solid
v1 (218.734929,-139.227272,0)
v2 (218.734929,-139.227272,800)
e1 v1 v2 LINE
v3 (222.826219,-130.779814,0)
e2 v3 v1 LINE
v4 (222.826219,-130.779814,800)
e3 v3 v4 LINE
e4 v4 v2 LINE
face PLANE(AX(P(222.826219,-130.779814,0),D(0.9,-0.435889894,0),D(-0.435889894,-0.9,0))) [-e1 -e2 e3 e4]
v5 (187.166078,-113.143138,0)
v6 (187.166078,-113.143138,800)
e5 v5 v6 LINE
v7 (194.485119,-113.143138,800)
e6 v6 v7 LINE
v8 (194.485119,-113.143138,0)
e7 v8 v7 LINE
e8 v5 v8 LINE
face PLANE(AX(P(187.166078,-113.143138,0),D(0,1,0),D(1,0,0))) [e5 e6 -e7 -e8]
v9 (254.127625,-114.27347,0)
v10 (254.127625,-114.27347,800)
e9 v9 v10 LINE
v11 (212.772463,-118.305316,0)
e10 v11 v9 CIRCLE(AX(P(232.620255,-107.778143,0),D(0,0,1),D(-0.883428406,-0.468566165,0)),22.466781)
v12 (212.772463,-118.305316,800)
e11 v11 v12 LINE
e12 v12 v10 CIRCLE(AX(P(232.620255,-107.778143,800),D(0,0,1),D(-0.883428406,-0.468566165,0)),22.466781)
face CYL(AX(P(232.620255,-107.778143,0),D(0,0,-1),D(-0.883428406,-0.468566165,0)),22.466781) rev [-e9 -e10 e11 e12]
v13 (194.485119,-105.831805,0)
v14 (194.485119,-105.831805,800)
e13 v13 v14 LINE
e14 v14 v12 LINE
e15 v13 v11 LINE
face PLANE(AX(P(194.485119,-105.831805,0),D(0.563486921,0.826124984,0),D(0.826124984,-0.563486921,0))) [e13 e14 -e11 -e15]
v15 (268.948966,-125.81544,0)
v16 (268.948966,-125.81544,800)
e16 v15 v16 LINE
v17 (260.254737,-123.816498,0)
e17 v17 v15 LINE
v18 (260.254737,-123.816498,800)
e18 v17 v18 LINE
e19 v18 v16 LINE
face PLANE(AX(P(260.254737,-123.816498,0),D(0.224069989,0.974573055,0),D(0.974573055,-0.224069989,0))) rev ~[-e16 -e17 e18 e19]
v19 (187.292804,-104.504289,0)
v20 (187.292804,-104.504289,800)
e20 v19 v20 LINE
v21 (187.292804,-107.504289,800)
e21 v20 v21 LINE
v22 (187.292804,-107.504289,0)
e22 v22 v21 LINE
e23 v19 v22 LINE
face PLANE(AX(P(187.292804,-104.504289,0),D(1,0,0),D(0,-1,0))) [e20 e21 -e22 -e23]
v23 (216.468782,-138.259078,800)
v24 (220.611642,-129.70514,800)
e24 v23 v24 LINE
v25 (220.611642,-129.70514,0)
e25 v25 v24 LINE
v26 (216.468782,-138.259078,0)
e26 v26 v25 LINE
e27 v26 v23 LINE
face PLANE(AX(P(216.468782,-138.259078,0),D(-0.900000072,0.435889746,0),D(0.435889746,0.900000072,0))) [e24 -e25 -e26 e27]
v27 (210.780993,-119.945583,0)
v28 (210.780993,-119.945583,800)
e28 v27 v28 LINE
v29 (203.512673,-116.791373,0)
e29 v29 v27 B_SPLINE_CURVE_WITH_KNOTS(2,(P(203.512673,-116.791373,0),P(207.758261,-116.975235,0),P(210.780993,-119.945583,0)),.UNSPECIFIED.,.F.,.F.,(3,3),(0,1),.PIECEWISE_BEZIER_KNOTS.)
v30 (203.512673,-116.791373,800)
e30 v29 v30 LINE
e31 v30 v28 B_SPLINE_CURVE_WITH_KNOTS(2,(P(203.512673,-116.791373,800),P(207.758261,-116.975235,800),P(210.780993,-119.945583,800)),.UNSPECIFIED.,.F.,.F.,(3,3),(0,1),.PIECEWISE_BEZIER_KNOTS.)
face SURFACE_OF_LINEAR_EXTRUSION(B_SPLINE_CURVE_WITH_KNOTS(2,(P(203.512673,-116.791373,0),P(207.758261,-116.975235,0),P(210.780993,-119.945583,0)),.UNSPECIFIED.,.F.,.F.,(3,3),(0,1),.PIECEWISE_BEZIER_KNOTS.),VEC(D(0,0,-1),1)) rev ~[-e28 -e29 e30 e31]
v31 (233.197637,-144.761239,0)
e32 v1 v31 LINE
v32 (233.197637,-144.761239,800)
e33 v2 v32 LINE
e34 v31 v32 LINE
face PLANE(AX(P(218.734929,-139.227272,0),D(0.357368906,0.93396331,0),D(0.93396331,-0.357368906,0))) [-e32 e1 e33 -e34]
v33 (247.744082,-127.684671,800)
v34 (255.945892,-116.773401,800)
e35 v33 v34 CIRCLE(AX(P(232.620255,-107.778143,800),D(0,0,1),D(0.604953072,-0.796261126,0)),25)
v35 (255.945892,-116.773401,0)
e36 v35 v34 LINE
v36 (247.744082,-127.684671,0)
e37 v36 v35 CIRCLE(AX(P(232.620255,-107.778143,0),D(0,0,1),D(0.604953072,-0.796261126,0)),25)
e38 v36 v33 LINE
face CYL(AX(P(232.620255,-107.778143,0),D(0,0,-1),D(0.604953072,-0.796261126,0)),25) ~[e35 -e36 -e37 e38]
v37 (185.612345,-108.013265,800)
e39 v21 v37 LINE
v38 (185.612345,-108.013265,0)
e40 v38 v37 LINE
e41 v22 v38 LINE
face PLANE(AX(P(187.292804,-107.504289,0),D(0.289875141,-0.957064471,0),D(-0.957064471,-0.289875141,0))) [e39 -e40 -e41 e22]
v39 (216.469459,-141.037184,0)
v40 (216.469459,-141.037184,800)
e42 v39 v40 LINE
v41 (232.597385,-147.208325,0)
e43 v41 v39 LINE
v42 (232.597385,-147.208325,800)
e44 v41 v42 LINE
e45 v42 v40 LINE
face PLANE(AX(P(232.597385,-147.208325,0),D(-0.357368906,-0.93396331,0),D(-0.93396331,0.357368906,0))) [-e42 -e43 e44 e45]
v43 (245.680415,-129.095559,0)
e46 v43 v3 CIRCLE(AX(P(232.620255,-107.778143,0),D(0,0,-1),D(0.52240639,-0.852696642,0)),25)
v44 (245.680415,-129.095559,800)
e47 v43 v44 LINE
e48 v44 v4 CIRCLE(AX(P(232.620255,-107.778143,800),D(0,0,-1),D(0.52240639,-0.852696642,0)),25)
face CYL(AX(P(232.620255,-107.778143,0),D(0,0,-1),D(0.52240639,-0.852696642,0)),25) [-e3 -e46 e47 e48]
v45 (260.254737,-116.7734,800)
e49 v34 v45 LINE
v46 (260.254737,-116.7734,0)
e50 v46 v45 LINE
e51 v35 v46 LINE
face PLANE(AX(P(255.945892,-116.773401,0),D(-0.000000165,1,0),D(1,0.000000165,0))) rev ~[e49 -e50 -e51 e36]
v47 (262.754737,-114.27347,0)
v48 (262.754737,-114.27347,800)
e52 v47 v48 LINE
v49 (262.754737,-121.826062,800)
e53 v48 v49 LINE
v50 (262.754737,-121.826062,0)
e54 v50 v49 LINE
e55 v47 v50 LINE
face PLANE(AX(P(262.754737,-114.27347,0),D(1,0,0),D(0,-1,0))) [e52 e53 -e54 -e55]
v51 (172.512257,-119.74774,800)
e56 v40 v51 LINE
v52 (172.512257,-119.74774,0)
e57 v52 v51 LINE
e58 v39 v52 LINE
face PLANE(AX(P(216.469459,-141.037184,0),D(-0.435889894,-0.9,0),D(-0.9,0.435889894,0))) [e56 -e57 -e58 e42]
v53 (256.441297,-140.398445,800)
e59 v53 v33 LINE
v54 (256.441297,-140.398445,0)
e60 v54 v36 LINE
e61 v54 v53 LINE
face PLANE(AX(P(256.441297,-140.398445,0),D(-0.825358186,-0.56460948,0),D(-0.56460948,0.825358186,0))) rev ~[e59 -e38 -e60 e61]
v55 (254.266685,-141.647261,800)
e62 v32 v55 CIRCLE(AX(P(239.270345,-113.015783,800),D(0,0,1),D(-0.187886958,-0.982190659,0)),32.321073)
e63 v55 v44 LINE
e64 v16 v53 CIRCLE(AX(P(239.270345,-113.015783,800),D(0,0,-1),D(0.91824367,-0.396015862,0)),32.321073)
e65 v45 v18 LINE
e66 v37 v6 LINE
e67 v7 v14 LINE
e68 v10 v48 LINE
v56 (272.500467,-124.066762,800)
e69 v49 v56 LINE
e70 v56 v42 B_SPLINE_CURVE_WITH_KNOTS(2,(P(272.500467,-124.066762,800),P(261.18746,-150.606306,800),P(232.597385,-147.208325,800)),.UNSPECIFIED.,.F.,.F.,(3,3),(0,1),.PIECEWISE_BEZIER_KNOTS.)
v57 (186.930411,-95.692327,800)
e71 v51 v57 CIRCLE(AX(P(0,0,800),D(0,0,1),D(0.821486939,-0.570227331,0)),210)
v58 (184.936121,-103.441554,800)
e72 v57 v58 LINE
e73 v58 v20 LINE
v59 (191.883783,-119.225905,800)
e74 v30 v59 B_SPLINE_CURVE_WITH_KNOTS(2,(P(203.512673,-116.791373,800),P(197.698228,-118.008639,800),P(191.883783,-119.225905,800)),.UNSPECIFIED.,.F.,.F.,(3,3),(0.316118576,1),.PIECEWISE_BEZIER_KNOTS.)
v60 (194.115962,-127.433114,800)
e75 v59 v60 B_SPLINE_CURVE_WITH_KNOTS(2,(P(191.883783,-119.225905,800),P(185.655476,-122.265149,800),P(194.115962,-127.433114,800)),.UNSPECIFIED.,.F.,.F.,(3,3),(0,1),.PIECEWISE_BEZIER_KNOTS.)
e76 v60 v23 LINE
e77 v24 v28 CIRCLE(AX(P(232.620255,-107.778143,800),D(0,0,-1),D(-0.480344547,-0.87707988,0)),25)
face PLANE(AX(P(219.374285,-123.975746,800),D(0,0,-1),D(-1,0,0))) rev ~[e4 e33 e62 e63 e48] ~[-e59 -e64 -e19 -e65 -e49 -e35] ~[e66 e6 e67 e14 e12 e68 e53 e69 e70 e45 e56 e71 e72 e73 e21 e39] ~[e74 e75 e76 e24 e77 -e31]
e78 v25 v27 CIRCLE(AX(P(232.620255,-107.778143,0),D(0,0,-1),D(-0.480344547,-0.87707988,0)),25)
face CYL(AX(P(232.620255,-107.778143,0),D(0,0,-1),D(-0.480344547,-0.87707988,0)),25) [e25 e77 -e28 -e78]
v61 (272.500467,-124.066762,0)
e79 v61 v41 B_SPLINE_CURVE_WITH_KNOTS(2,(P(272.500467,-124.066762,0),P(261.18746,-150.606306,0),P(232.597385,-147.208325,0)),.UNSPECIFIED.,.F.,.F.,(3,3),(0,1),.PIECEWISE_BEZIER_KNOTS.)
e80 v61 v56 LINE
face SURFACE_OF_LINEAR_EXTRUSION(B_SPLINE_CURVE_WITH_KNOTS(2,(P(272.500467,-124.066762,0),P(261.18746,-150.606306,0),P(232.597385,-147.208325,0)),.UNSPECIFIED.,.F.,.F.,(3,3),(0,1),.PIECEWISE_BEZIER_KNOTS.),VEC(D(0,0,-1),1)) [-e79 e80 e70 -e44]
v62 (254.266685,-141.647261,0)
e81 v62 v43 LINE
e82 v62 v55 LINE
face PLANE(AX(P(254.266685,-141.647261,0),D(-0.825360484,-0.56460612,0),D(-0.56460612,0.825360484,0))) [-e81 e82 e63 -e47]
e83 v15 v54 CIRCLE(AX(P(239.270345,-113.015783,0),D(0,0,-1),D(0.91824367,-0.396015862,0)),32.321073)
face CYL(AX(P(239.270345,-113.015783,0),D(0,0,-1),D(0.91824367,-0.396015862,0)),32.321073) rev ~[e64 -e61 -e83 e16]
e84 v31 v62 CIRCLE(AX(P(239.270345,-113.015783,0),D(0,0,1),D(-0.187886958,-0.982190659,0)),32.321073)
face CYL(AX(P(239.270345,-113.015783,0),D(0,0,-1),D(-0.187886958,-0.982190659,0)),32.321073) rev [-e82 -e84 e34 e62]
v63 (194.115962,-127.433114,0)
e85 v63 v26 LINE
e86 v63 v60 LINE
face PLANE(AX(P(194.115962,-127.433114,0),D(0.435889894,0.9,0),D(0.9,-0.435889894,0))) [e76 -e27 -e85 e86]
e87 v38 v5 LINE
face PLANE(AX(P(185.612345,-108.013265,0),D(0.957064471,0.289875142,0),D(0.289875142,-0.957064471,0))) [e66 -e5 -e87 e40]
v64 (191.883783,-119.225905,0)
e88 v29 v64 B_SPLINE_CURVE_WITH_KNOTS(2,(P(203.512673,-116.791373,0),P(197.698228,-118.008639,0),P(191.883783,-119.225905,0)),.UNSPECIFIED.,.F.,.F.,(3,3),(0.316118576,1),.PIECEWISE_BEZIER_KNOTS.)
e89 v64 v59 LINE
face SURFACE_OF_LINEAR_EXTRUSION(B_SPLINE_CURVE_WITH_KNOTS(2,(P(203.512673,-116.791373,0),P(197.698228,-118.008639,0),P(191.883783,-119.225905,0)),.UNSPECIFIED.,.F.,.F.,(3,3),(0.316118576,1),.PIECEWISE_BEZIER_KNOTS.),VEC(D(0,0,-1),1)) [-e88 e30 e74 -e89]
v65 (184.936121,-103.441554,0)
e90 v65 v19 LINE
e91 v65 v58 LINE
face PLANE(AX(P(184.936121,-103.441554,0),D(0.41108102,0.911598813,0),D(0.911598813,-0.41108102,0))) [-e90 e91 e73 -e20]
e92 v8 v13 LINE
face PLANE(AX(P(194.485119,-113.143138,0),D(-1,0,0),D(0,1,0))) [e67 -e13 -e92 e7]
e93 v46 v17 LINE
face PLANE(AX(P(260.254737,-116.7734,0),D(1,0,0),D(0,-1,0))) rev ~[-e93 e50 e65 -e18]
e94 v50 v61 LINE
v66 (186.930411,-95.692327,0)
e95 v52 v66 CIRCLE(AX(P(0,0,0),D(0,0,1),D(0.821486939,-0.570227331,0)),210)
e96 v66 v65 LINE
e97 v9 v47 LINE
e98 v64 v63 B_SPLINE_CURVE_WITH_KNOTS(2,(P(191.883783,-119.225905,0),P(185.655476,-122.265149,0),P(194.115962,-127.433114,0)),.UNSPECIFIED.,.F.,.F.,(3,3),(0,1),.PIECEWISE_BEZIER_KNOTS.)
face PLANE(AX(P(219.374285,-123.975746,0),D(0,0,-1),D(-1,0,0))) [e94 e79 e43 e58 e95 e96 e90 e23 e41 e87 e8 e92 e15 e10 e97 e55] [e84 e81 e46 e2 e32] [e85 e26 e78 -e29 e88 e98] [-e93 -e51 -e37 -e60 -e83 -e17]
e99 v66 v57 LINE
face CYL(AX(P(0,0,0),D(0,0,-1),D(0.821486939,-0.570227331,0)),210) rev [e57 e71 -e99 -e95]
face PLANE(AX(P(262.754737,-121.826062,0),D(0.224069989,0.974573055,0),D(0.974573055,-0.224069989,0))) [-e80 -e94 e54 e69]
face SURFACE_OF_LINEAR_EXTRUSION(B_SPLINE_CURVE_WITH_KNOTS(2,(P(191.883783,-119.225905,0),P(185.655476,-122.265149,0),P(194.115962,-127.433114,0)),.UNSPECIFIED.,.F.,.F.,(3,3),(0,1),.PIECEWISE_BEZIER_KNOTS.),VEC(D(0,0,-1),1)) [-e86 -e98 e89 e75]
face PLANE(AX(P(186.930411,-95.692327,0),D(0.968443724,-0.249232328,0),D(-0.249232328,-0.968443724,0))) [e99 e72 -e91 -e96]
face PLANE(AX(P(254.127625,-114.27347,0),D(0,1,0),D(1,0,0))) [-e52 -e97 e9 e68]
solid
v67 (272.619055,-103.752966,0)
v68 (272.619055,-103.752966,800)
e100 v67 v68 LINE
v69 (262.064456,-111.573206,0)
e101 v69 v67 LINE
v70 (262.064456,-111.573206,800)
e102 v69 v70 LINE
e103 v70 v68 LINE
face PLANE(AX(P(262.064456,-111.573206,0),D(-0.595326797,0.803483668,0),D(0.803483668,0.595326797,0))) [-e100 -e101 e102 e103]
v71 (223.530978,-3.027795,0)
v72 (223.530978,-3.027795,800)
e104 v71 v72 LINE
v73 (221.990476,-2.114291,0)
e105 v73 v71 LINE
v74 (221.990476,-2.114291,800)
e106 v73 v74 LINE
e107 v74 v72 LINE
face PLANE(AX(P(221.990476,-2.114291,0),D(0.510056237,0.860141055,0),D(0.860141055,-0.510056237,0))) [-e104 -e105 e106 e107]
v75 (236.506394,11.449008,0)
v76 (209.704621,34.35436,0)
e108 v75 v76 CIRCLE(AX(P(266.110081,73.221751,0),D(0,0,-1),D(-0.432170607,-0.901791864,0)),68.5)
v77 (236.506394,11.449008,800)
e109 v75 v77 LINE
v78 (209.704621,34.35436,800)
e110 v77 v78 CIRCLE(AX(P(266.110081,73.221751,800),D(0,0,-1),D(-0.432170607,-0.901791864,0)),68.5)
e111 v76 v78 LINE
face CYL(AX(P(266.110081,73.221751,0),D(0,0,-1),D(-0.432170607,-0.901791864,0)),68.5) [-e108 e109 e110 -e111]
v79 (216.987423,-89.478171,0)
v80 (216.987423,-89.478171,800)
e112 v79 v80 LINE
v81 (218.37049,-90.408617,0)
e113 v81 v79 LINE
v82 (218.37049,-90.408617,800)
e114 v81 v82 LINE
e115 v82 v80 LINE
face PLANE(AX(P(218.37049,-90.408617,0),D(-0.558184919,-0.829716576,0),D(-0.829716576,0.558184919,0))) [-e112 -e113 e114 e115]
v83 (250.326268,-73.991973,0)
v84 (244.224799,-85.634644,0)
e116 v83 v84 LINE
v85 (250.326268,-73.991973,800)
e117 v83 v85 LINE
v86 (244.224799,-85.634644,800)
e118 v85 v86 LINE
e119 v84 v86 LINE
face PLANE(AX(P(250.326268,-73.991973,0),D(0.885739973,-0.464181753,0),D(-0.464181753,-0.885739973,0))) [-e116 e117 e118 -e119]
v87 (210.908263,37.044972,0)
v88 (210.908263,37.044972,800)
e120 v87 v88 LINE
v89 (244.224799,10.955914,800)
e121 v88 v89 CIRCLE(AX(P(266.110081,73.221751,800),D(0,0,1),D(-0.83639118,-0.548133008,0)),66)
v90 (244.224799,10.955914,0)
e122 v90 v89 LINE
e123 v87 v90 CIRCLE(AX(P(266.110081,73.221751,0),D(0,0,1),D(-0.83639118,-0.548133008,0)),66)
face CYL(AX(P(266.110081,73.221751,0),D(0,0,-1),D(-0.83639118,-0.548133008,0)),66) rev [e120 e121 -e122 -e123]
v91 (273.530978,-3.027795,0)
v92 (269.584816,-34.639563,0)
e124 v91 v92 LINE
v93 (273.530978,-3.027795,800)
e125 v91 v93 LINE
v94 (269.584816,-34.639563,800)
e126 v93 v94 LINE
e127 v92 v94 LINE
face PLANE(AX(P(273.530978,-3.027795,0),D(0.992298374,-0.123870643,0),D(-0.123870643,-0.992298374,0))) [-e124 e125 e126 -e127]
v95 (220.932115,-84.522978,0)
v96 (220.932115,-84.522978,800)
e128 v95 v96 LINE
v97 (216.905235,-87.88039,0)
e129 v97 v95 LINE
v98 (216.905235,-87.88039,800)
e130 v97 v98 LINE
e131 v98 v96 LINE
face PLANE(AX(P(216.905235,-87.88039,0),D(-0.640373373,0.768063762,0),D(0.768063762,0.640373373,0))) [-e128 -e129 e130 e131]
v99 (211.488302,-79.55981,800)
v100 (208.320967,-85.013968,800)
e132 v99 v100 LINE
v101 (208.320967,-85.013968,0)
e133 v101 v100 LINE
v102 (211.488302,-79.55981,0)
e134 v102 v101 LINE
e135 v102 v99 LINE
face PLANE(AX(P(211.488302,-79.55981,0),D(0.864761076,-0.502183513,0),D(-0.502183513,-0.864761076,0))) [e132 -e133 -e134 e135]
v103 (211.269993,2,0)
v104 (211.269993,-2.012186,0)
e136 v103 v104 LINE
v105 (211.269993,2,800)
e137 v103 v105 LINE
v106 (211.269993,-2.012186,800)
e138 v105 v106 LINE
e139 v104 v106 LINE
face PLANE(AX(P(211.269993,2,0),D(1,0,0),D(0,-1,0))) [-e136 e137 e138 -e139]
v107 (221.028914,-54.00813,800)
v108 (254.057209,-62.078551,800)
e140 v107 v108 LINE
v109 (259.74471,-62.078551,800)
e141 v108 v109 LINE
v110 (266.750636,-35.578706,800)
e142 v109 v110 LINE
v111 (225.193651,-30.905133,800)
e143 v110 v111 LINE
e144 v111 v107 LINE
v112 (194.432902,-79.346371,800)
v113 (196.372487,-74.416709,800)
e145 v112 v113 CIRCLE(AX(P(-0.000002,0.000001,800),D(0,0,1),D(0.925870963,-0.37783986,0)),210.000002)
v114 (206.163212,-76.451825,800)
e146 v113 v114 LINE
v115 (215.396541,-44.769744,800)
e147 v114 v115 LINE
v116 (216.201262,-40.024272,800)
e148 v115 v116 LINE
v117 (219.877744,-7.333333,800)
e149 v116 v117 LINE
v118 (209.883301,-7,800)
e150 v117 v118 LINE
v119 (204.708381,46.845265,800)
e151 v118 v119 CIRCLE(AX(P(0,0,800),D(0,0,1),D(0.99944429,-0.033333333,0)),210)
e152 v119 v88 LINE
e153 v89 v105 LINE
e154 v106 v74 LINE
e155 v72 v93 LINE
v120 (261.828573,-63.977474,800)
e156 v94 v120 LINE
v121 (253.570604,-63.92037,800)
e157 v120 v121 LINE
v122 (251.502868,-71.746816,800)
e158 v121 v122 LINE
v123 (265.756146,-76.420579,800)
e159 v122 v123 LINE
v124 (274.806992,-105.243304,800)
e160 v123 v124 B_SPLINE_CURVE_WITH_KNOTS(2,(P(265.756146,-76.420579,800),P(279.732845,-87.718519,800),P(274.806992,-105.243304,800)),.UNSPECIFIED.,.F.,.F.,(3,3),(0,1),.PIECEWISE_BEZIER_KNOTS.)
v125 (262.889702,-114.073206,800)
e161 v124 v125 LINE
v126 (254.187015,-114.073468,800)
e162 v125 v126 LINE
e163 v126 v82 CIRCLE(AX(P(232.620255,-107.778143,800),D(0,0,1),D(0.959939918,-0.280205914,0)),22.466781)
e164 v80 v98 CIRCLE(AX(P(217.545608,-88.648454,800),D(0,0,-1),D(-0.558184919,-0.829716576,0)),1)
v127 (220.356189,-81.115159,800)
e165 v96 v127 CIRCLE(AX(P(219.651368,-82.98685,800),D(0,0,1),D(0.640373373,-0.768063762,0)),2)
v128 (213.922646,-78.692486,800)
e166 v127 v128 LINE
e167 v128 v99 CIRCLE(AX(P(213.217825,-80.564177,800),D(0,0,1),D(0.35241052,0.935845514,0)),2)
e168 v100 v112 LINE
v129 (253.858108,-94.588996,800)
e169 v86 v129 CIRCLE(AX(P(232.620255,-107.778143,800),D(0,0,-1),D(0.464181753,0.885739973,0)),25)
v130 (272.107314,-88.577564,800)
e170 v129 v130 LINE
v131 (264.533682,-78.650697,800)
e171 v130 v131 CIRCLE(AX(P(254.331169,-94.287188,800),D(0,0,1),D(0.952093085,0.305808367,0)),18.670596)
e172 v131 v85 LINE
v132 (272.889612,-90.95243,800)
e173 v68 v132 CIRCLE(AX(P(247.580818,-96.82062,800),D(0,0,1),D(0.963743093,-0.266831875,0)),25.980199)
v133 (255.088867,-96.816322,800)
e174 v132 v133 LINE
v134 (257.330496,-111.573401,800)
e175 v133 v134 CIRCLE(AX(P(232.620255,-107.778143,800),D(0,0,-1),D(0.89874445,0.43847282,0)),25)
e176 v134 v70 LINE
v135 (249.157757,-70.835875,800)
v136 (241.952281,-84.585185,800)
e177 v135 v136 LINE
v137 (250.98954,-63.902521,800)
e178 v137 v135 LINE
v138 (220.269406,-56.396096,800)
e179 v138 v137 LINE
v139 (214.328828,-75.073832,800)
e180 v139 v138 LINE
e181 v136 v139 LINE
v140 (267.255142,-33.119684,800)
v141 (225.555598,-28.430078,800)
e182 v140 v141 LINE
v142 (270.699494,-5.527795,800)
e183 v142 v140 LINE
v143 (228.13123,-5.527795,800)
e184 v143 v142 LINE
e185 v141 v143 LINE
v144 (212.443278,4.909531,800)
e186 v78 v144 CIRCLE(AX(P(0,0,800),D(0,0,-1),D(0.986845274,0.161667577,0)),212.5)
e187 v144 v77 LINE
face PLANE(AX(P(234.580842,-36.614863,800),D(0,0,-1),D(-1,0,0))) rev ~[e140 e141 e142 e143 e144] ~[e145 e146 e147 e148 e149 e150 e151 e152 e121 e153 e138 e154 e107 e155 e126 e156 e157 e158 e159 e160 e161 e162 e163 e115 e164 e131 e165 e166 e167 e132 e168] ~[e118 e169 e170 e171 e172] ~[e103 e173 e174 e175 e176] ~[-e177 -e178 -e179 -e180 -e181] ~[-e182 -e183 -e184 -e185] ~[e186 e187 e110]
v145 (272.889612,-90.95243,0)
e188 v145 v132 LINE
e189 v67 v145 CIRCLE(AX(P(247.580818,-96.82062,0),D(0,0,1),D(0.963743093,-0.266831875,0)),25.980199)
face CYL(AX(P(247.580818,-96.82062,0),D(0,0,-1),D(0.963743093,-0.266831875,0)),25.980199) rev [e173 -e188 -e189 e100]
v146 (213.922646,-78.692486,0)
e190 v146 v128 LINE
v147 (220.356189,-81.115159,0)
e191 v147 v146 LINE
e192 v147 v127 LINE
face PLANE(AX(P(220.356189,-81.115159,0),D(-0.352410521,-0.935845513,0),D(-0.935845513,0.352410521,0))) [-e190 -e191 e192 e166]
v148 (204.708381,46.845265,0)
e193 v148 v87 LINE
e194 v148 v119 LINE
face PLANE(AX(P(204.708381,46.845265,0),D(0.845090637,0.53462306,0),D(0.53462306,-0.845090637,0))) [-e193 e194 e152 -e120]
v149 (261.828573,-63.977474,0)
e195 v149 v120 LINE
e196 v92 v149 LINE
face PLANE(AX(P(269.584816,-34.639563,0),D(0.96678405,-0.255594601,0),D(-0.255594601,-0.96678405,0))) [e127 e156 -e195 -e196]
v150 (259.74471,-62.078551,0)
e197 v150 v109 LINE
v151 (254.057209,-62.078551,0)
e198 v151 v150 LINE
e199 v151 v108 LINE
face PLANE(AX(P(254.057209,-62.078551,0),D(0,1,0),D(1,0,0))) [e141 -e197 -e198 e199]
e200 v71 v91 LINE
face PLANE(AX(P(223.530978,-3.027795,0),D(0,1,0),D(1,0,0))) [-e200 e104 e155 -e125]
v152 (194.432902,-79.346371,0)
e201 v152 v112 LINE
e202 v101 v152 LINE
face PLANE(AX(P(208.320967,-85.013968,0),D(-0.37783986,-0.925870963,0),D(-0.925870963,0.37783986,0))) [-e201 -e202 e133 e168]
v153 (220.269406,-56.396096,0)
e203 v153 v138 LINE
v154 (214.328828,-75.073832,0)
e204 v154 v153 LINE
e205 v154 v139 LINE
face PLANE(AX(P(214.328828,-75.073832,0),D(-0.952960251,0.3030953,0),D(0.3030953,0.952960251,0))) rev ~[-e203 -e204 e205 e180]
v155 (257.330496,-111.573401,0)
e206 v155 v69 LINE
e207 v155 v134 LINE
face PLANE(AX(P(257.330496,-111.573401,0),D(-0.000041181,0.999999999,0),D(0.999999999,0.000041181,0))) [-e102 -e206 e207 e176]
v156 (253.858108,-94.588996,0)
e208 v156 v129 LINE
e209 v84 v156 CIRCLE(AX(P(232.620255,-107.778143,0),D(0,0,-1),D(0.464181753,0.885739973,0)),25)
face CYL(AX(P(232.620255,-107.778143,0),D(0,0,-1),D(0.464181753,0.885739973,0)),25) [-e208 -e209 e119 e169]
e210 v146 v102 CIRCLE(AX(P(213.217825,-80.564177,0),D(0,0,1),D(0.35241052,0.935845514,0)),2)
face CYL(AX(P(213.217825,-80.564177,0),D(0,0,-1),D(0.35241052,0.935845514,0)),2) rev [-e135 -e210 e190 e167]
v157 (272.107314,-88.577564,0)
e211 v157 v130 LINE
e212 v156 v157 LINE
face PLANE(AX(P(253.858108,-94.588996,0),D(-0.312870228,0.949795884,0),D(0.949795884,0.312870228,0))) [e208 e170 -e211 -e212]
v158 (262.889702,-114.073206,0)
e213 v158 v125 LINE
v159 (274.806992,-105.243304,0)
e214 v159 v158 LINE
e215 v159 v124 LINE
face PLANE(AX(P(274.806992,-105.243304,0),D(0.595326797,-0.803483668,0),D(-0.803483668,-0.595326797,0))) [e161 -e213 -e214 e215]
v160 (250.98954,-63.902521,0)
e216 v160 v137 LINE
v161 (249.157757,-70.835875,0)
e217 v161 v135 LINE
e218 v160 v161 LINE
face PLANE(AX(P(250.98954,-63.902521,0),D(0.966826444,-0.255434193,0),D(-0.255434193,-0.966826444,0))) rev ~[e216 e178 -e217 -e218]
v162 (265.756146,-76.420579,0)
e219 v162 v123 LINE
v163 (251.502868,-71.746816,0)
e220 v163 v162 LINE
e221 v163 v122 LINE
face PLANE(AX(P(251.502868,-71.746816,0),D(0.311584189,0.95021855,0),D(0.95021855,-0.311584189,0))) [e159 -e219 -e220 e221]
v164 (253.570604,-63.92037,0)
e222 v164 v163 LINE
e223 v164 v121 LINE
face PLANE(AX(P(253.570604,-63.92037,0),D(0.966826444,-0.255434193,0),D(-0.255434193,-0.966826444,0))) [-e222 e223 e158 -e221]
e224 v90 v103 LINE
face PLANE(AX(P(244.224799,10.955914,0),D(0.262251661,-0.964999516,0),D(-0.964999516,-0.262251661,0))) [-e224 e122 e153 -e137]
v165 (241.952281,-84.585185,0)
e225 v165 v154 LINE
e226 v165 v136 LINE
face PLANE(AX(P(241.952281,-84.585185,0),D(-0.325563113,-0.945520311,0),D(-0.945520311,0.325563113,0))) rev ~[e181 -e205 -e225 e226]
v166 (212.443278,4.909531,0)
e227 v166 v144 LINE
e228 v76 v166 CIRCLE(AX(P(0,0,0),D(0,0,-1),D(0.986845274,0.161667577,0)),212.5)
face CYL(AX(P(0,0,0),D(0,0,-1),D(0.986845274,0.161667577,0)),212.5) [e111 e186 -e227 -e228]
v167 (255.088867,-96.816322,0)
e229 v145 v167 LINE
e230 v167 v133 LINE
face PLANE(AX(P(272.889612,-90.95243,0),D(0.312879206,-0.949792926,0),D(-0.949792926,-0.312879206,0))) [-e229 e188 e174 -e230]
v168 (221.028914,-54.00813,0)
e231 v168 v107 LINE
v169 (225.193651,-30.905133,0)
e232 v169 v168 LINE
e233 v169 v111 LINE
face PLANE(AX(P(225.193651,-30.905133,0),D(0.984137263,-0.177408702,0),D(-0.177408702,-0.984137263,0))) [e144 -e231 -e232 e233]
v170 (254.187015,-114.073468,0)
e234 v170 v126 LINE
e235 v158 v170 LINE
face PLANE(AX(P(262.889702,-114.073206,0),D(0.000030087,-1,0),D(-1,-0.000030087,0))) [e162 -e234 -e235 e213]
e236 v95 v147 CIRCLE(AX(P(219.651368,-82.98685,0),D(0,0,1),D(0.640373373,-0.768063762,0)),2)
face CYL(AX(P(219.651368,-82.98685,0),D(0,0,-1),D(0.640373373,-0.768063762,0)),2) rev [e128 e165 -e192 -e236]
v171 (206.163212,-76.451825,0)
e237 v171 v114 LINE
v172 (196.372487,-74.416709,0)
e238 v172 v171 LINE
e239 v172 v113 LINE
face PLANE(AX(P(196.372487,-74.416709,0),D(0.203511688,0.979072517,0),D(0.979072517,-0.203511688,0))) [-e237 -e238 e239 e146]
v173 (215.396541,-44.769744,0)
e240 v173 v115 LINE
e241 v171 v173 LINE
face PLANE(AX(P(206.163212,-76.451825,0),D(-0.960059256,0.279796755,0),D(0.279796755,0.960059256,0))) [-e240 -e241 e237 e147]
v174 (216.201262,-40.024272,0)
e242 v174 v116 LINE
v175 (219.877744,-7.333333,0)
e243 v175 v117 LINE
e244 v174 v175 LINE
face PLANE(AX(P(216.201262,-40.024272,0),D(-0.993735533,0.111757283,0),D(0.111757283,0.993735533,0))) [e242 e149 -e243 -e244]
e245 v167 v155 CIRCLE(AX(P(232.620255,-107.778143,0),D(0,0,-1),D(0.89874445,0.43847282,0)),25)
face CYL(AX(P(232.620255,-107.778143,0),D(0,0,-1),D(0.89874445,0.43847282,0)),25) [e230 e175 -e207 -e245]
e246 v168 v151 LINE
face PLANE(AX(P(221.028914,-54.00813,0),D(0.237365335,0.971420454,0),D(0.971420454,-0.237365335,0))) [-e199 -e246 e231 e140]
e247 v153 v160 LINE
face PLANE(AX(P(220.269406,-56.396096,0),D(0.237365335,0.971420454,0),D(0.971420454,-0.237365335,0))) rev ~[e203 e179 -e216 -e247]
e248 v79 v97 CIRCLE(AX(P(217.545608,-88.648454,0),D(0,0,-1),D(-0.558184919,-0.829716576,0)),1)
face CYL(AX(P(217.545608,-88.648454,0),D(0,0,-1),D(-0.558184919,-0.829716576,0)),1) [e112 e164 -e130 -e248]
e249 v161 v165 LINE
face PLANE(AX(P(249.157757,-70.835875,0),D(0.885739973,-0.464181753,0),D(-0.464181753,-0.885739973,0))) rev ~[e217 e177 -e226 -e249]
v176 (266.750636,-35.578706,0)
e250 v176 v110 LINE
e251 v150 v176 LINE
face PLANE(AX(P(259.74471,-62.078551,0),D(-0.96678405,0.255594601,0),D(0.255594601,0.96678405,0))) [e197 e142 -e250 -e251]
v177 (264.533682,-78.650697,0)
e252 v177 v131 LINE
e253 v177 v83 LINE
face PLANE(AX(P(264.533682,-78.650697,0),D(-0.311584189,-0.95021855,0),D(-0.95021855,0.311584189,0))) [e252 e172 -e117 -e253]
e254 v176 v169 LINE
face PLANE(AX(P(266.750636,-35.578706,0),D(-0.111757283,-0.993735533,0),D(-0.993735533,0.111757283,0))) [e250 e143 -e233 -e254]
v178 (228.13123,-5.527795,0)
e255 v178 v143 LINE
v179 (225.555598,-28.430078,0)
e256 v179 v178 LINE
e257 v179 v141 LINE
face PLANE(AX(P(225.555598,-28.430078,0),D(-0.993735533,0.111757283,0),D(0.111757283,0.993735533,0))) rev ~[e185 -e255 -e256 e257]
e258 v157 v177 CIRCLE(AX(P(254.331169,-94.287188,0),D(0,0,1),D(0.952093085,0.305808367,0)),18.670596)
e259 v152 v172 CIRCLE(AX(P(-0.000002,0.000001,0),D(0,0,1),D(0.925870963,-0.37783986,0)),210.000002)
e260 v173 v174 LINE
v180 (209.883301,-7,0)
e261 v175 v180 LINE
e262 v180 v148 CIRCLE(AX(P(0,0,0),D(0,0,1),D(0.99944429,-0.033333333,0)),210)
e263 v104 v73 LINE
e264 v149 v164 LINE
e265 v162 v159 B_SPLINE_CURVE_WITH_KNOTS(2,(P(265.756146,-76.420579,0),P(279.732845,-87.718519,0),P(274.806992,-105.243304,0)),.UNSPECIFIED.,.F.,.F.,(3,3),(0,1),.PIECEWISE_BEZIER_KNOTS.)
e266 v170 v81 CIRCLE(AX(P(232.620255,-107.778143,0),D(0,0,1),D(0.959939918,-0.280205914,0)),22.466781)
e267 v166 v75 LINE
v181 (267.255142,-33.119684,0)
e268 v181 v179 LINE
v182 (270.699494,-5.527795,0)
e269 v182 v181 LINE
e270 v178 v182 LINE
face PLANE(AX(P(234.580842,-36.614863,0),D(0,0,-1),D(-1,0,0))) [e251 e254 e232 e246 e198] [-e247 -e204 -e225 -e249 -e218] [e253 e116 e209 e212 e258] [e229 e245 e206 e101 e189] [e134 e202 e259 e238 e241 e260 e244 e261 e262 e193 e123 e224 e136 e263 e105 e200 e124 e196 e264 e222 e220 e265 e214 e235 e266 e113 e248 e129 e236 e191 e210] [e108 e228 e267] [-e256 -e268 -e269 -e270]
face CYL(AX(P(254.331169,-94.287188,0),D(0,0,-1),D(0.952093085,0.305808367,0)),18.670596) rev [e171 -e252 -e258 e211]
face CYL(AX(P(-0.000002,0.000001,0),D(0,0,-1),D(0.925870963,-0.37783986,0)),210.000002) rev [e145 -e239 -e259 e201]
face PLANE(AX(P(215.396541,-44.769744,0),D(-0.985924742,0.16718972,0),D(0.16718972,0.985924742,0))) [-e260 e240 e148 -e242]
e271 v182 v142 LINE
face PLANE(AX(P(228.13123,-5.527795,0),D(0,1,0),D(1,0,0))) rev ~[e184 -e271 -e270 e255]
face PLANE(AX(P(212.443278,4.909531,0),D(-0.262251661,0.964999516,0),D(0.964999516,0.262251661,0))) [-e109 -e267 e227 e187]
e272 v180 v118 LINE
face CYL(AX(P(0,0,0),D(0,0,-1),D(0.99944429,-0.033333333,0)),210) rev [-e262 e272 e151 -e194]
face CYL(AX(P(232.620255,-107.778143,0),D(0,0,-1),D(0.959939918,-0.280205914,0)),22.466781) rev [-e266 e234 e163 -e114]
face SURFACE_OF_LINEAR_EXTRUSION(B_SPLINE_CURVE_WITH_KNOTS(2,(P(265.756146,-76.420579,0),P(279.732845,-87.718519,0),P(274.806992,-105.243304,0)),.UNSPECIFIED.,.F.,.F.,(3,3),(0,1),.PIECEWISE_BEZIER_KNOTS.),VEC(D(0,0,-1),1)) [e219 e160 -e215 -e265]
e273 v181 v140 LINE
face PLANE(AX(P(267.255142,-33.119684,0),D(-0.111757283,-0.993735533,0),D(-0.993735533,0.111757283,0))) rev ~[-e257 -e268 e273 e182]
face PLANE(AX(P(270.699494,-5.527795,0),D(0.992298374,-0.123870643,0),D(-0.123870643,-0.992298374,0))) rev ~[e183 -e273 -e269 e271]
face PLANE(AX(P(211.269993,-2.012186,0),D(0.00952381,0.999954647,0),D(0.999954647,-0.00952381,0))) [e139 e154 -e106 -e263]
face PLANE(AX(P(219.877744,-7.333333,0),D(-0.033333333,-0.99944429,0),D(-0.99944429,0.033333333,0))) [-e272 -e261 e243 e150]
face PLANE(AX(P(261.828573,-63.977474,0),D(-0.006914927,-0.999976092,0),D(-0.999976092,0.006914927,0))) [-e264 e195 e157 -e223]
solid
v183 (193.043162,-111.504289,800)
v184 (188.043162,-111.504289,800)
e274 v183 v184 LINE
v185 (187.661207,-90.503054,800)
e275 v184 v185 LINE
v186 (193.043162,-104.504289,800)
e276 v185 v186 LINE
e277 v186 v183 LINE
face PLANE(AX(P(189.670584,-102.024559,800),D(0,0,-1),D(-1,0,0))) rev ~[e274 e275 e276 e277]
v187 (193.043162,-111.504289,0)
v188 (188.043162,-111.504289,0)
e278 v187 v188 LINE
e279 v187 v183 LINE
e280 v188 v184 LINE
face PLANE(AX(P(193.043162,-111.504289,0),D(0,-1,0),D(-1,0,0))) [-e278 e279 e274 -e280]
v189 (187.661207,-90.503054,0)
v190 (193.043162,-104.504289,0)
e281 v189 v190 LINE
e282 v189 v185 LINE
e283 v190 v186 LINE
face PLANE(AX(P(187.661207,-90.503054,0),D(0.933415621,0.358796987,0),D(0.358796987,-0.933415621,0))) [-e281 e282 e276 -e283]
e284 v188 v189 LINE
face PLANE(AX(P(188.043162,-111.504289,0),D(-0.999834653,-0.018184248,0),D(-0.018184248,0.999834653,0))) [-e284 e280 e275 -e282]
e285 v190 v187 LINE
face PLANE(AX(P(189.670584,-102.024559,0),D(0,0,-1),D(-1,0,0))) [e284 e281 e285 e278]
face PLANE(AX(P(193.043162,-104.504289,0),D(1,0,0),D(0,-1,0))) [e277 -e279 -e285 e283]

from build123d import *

# Parameters (mm, degrees)
BOSS_EXTRUDE1_DEPTH   = 800
BOSS_EXTRUDE1_2_DEPTH = 800
BOSS_EXTRUDE1_3_DEPTH = 800


with BuildPart() as part:
    # Sketch2 → Boss-Extrude1 (new body)
    with BuildSketch(Plane.XY):
        with BuildLine():
            Line((219.877743808, -7.333333333), (209.883300908, -7))
            ThreePointArc((209.883300908, -7), (209.036823939, 20.089953644), (204.708380722, 46.845265098))
            Line((204.708380722, 46.845265098), (210.908263166, 37.044972147))
            ThreePointArc((210.908263166, 37.044972147), (225.418988897, 21.257964998), (244.224799112, 10.95591384))
            Line((244.224799112, 10.95591384), (211.269993414, 2))
            Line((211.269993414, 2), (211.269993414, -2.012186433))
            Line((211.269993414, -2.012186433), (221.990475975, -2.114290898))
            Line((221.990475975, -2.114290898), (223.530977705, -3.027795155))
            Line((223.530977705, -3.027795155), (273.530977705, -3.027795155))
            Line((273.530977705, -3.027795155), (269.584815864, -34.639562765))
            Line((269.584815864, -34.639562765), (261.828573121, -63.977474169))
            Line((261.828573121, -63.977474169), (253.570603739, -63.920369552))
            Line((253.570603739, -63.920369552), (251.502867564, -71.746815931))
            Line((251.502867564, -71.746815931), (265.756145816, -76.42057877))
            add(Edge.make_bspline(
                [(265.756145816, -76.42057877), (279.732844517, -87.718519491), (274.80699177, -105.243303822)],
                knots=[0, 0, 0, 1, 1, 1], degree=2))
            Line((274.80699177, -105.243303822), (262.889701897, -114.073205773))
            Line((262.889701897, -114.073205773), (254.187014796, -114.073467609))
            ThreePointArc((254.187014796, -114.073467609), (245.005362752, -89.033401072), (218.370489992, -90.408617244))
            Line((218.370489992, -90.408617244), (216.987423166, -89.47817055))
            ThreePointArc((216.987423166, -89.47817055), (216.546928458, -88.6998252), (216.905234712, -87.880390212))
            Line((216.905234712, -87.880390212), (220.932114628, -84.522977972))
            ThreePointArc((220.932114628, -84.522977972), (221.623404057, -82.653573805), (220.356188922, -81.115159421))
            Line((220.356188922, -81.115159421), (213.922645584, -78.692485674))
            ThreePointArc((213.922645584, -78.692485674), (212.546582543, -78.680182493), (211.48830239, -79.559809676))
            Line((211.48830239, -79.559809676), (208.320966691, -85.013968481))
            Line((208.320966691, -85.013968481), (194.432902245, -79.346370583))
            ThreePointArc((194.432902245, -79.346370583), (195.418239612, -76.887655881), (196.372486568, -74.416708601))
            Line((196.372486568, -74.416708601), (206.163211734, -76.451825484))
            Line((206.163211734, -76.451825484), (215.396541258, -44.769744406))
            Line((215.396541258, -44.769744406), (216.201262108, -40.024272027))
            Line((216.201262108, -40.024272027), (219.877743808, -7.333333333))
        make_face()
        Polygon((270.699494071, -5.527795155), (267.255142009, -33.119683511), (225.555597681, -28.430077836), (228.131229539, -5.527795155), align=None, mode=Mode.SUBTRACT)
        Polygon((221.028914069, -54.008130098), (254.057209492, -62.078551489), (259.744710015, -62.078551489), (266.75063601, -35.578705754), (225.193651001, -30.905132557), align=None, mode=Mode.SUBTRACT)
        with BuildLine():
            Line((250.326268176, -73.991973356), (244.224799112, -85.63464351))
            ThreePointArc((244.224799112, -85.63464351), (249.640856314, -89.46696755), (253.858108107, -94.588995513))
            Line((253.858108107, -94.588995513), (272.107313629, -88.577563806))
            ThreePointArc((272.107313629, -88.577563806), (269.17492176, -82.962253968), (264.533682358, -78.650697003))
            Line((264.533682358, -78.650697003), (250.326268176, -73.991973356))
        make_face(mode=Mode.SUBTRACT)
        with BuildLine():
            Line((262.06445628, -111.573205773), (272.619054804, -103.75296551))
            ThreePointArc((272.619054804, -103.75296551), (273.555215096, -97.369625677), (272.889612093, -90.952430327))
            Line((272.889612093, -90.952430327), (255.088866515, -96.816322326))
            ThreePointArc((255.088866515, -96.816322326), (257.336724857, -104.023661365), (257.33049641, -111.573400722))
            Line((257.33049641, -111.573400722), (262.06445628, -111.573205773))
        make_face(mode=Mode.SUBTRACT)
        with BuildLine():
            Line((212.443278327, 4.909530906), (236.506394493, 11.449007942))
            ThreePointArc((236.506394493, 11.449007942), (221.606630296, 21.147833274), (209.704620684, 34.354360188))
            ThreePointArc((209.704620684, 34.354360188), (211.586770977, 19.679642969), (212.443278327, 4.909530906))
        make_face(mode=Mode.SUBTRACT)
        Polygon((249.157757395, -70.835874948), (241.952280674, -84.585184811), (214.328828436, -75.073832175), (220.269405707, -56.396096127), (250.989539733, -63.902521257), align=None, mode=Mode.SUBTRACT)
    extrude(amount=BOSS_EXTRUDE1_DEPTH)


with BuildPart() as body_2:
    # Sketch2 → Boss-Extrude1 2 (new body)
    with BuildSketch(Plane.XY):
        with BuildLine():
            Line((216.469459271, -141.037184205), (172.512257161, -119.747739558))
            ThreePointArc((172.512257161, -119.747739558), (180.123356683, -107.960994704), (186.930410904, -95.692327171))
            Line((186.930410904, -95.692327171), (184.936120706, -103.441553939))
            Line((184.936120706, -103.441553939), (187.292803793, -104.504288635))
            Line((187.292803793, -104.504288635), (187.292803793, -107.504288635))
            Line((187.292803793, -107.504288635), (185.612345377, -108.013264922))
            Line((185.612345377, -108.013264922), (187.166078479, -113.14313822))
            Line((187.166078479, -113.14313822), (194.485119153, -113.14313822))
            Line((194.485119153, -113.14313822), (194.485119153, -105.831804929))
            Line((194.485119153, -105.831804929), (212.772463132, -118.30531603))
            ThreePointArc((212.772463132, -118.30531603), (234.800277303, -130.138906076), (254.127625184, -114.273469605))
            Line((254.127625184, -114.273469605), (262.754736754, -114.273469605))
            Line((262.754736754, -114.273469605), (262.754736754, -121.826061943))
            Line((262.754736754, -121.826061943), (272.500467307, -124.066761831))
            add(Edge.make_bspline(
                [(272.500467307, -124.066761831), (261.187460089, -150.606305517), (232.597385362, -147.208325233)],
                knots=[0, 0, 0, 1, 1, 1], degree=2))
            Line((232.597385362, -147.208325233), (216.469459271, -141.037184205))
        make_face()
        with BuildLine():
            Line((256.441296727, -140.398444944), (247.744082063, -127.68467095))
            ThreePointArc((247.744082063, -127.68467095), (252.604105384, -122.799651864), (255.945892041, -116.77340095))
            Line((255.945892041, -116.77340095), (260.254736754, -116.773400241))
            Line((260.254736754, -116.773400241), (260.254736754, -123.81649767))
            Line((260.254736754, -123.81649767), (268.948965772, -125.815440477))
            ThreePointArc((268.948965772, -125.815440477), (263.803722581, -134.057768277), (256.441296727, -140.398444944))
        make_face(mode=Mode.SUBTRACT)
        with BuildLine():
            Line((218.734928689, -139.227271917), (233.197636825, -144.761238965))
            ThreePointArc((233.197636825, -144.761238965), (243.996021225, -144.989518192), (254.26668504, -141.647261193))
            Line((254.26668504, -141.647261193), (245.680415042, -129.095558837))
            ThreePointArc((245.680415042, -129.095558837), (234.457663773, -132.710529956), (222.826219463, -130.779813637))
            Line((222.826219463, -130.779813637), (218.734928689, -139.227271917))
        make_face(mode=Mode.SUBTRACT)
        with BuildLine():
            Line((194.115962412, -127.433113779), (216.468781859, -138.259078342))
            Line((216.468781859, -138.259078342), (220.611641642, -129.705139796))
            ThreePointArc((220.611641642, -129.705139796), (215.006853725, -125.519847458), (210.780992799, -119.945583472))
            add(Edge.make_bspline(
                [(203.512673415, -116.791372692), (207.758261172, -116.975234714), (210.780992799, -119.945583472)],
                knots=[0, 0, 0, 1, 1, 1], degree=2))
            add(Edge.make_bspline(
                [(203.512673415, -116.791372692), (197.698228021, -118.008638917), (191.883782627, -119.225905142)],
                knots=[0.316118576, 0.316118576, 0.316118576, 1, 1, 1], degree=2))
            add(Edge.make_bspline(
                [(191.883782627, -119.225905142), (185.65547594, -122.26514873), (194.115962412, -127.433113779)],
                knots=[0, 0, 0, 1, 1, 1], degree=2))
        make_face(mode=Mode.SUBTRACT)
    extrude(amount=BOSS_EXTRUDE1_2_DEPTH)


with BuildPart() as body_3:
    # Sketch2 → Boss-Extrude1 3 (new body)
    with BuildSketch(Plane.XY):
        Polygon((188.043162181, -111.504288635), (187.661207371, -90.503054317), (193.043162181, -104.504288635), (193.043162181, -111.504288635), align=None)
    extrude(amount=BOSS_EXTRUDE1_3_DEPTH)


solid = Compound([part.part, body_2.part, body_3.part])
